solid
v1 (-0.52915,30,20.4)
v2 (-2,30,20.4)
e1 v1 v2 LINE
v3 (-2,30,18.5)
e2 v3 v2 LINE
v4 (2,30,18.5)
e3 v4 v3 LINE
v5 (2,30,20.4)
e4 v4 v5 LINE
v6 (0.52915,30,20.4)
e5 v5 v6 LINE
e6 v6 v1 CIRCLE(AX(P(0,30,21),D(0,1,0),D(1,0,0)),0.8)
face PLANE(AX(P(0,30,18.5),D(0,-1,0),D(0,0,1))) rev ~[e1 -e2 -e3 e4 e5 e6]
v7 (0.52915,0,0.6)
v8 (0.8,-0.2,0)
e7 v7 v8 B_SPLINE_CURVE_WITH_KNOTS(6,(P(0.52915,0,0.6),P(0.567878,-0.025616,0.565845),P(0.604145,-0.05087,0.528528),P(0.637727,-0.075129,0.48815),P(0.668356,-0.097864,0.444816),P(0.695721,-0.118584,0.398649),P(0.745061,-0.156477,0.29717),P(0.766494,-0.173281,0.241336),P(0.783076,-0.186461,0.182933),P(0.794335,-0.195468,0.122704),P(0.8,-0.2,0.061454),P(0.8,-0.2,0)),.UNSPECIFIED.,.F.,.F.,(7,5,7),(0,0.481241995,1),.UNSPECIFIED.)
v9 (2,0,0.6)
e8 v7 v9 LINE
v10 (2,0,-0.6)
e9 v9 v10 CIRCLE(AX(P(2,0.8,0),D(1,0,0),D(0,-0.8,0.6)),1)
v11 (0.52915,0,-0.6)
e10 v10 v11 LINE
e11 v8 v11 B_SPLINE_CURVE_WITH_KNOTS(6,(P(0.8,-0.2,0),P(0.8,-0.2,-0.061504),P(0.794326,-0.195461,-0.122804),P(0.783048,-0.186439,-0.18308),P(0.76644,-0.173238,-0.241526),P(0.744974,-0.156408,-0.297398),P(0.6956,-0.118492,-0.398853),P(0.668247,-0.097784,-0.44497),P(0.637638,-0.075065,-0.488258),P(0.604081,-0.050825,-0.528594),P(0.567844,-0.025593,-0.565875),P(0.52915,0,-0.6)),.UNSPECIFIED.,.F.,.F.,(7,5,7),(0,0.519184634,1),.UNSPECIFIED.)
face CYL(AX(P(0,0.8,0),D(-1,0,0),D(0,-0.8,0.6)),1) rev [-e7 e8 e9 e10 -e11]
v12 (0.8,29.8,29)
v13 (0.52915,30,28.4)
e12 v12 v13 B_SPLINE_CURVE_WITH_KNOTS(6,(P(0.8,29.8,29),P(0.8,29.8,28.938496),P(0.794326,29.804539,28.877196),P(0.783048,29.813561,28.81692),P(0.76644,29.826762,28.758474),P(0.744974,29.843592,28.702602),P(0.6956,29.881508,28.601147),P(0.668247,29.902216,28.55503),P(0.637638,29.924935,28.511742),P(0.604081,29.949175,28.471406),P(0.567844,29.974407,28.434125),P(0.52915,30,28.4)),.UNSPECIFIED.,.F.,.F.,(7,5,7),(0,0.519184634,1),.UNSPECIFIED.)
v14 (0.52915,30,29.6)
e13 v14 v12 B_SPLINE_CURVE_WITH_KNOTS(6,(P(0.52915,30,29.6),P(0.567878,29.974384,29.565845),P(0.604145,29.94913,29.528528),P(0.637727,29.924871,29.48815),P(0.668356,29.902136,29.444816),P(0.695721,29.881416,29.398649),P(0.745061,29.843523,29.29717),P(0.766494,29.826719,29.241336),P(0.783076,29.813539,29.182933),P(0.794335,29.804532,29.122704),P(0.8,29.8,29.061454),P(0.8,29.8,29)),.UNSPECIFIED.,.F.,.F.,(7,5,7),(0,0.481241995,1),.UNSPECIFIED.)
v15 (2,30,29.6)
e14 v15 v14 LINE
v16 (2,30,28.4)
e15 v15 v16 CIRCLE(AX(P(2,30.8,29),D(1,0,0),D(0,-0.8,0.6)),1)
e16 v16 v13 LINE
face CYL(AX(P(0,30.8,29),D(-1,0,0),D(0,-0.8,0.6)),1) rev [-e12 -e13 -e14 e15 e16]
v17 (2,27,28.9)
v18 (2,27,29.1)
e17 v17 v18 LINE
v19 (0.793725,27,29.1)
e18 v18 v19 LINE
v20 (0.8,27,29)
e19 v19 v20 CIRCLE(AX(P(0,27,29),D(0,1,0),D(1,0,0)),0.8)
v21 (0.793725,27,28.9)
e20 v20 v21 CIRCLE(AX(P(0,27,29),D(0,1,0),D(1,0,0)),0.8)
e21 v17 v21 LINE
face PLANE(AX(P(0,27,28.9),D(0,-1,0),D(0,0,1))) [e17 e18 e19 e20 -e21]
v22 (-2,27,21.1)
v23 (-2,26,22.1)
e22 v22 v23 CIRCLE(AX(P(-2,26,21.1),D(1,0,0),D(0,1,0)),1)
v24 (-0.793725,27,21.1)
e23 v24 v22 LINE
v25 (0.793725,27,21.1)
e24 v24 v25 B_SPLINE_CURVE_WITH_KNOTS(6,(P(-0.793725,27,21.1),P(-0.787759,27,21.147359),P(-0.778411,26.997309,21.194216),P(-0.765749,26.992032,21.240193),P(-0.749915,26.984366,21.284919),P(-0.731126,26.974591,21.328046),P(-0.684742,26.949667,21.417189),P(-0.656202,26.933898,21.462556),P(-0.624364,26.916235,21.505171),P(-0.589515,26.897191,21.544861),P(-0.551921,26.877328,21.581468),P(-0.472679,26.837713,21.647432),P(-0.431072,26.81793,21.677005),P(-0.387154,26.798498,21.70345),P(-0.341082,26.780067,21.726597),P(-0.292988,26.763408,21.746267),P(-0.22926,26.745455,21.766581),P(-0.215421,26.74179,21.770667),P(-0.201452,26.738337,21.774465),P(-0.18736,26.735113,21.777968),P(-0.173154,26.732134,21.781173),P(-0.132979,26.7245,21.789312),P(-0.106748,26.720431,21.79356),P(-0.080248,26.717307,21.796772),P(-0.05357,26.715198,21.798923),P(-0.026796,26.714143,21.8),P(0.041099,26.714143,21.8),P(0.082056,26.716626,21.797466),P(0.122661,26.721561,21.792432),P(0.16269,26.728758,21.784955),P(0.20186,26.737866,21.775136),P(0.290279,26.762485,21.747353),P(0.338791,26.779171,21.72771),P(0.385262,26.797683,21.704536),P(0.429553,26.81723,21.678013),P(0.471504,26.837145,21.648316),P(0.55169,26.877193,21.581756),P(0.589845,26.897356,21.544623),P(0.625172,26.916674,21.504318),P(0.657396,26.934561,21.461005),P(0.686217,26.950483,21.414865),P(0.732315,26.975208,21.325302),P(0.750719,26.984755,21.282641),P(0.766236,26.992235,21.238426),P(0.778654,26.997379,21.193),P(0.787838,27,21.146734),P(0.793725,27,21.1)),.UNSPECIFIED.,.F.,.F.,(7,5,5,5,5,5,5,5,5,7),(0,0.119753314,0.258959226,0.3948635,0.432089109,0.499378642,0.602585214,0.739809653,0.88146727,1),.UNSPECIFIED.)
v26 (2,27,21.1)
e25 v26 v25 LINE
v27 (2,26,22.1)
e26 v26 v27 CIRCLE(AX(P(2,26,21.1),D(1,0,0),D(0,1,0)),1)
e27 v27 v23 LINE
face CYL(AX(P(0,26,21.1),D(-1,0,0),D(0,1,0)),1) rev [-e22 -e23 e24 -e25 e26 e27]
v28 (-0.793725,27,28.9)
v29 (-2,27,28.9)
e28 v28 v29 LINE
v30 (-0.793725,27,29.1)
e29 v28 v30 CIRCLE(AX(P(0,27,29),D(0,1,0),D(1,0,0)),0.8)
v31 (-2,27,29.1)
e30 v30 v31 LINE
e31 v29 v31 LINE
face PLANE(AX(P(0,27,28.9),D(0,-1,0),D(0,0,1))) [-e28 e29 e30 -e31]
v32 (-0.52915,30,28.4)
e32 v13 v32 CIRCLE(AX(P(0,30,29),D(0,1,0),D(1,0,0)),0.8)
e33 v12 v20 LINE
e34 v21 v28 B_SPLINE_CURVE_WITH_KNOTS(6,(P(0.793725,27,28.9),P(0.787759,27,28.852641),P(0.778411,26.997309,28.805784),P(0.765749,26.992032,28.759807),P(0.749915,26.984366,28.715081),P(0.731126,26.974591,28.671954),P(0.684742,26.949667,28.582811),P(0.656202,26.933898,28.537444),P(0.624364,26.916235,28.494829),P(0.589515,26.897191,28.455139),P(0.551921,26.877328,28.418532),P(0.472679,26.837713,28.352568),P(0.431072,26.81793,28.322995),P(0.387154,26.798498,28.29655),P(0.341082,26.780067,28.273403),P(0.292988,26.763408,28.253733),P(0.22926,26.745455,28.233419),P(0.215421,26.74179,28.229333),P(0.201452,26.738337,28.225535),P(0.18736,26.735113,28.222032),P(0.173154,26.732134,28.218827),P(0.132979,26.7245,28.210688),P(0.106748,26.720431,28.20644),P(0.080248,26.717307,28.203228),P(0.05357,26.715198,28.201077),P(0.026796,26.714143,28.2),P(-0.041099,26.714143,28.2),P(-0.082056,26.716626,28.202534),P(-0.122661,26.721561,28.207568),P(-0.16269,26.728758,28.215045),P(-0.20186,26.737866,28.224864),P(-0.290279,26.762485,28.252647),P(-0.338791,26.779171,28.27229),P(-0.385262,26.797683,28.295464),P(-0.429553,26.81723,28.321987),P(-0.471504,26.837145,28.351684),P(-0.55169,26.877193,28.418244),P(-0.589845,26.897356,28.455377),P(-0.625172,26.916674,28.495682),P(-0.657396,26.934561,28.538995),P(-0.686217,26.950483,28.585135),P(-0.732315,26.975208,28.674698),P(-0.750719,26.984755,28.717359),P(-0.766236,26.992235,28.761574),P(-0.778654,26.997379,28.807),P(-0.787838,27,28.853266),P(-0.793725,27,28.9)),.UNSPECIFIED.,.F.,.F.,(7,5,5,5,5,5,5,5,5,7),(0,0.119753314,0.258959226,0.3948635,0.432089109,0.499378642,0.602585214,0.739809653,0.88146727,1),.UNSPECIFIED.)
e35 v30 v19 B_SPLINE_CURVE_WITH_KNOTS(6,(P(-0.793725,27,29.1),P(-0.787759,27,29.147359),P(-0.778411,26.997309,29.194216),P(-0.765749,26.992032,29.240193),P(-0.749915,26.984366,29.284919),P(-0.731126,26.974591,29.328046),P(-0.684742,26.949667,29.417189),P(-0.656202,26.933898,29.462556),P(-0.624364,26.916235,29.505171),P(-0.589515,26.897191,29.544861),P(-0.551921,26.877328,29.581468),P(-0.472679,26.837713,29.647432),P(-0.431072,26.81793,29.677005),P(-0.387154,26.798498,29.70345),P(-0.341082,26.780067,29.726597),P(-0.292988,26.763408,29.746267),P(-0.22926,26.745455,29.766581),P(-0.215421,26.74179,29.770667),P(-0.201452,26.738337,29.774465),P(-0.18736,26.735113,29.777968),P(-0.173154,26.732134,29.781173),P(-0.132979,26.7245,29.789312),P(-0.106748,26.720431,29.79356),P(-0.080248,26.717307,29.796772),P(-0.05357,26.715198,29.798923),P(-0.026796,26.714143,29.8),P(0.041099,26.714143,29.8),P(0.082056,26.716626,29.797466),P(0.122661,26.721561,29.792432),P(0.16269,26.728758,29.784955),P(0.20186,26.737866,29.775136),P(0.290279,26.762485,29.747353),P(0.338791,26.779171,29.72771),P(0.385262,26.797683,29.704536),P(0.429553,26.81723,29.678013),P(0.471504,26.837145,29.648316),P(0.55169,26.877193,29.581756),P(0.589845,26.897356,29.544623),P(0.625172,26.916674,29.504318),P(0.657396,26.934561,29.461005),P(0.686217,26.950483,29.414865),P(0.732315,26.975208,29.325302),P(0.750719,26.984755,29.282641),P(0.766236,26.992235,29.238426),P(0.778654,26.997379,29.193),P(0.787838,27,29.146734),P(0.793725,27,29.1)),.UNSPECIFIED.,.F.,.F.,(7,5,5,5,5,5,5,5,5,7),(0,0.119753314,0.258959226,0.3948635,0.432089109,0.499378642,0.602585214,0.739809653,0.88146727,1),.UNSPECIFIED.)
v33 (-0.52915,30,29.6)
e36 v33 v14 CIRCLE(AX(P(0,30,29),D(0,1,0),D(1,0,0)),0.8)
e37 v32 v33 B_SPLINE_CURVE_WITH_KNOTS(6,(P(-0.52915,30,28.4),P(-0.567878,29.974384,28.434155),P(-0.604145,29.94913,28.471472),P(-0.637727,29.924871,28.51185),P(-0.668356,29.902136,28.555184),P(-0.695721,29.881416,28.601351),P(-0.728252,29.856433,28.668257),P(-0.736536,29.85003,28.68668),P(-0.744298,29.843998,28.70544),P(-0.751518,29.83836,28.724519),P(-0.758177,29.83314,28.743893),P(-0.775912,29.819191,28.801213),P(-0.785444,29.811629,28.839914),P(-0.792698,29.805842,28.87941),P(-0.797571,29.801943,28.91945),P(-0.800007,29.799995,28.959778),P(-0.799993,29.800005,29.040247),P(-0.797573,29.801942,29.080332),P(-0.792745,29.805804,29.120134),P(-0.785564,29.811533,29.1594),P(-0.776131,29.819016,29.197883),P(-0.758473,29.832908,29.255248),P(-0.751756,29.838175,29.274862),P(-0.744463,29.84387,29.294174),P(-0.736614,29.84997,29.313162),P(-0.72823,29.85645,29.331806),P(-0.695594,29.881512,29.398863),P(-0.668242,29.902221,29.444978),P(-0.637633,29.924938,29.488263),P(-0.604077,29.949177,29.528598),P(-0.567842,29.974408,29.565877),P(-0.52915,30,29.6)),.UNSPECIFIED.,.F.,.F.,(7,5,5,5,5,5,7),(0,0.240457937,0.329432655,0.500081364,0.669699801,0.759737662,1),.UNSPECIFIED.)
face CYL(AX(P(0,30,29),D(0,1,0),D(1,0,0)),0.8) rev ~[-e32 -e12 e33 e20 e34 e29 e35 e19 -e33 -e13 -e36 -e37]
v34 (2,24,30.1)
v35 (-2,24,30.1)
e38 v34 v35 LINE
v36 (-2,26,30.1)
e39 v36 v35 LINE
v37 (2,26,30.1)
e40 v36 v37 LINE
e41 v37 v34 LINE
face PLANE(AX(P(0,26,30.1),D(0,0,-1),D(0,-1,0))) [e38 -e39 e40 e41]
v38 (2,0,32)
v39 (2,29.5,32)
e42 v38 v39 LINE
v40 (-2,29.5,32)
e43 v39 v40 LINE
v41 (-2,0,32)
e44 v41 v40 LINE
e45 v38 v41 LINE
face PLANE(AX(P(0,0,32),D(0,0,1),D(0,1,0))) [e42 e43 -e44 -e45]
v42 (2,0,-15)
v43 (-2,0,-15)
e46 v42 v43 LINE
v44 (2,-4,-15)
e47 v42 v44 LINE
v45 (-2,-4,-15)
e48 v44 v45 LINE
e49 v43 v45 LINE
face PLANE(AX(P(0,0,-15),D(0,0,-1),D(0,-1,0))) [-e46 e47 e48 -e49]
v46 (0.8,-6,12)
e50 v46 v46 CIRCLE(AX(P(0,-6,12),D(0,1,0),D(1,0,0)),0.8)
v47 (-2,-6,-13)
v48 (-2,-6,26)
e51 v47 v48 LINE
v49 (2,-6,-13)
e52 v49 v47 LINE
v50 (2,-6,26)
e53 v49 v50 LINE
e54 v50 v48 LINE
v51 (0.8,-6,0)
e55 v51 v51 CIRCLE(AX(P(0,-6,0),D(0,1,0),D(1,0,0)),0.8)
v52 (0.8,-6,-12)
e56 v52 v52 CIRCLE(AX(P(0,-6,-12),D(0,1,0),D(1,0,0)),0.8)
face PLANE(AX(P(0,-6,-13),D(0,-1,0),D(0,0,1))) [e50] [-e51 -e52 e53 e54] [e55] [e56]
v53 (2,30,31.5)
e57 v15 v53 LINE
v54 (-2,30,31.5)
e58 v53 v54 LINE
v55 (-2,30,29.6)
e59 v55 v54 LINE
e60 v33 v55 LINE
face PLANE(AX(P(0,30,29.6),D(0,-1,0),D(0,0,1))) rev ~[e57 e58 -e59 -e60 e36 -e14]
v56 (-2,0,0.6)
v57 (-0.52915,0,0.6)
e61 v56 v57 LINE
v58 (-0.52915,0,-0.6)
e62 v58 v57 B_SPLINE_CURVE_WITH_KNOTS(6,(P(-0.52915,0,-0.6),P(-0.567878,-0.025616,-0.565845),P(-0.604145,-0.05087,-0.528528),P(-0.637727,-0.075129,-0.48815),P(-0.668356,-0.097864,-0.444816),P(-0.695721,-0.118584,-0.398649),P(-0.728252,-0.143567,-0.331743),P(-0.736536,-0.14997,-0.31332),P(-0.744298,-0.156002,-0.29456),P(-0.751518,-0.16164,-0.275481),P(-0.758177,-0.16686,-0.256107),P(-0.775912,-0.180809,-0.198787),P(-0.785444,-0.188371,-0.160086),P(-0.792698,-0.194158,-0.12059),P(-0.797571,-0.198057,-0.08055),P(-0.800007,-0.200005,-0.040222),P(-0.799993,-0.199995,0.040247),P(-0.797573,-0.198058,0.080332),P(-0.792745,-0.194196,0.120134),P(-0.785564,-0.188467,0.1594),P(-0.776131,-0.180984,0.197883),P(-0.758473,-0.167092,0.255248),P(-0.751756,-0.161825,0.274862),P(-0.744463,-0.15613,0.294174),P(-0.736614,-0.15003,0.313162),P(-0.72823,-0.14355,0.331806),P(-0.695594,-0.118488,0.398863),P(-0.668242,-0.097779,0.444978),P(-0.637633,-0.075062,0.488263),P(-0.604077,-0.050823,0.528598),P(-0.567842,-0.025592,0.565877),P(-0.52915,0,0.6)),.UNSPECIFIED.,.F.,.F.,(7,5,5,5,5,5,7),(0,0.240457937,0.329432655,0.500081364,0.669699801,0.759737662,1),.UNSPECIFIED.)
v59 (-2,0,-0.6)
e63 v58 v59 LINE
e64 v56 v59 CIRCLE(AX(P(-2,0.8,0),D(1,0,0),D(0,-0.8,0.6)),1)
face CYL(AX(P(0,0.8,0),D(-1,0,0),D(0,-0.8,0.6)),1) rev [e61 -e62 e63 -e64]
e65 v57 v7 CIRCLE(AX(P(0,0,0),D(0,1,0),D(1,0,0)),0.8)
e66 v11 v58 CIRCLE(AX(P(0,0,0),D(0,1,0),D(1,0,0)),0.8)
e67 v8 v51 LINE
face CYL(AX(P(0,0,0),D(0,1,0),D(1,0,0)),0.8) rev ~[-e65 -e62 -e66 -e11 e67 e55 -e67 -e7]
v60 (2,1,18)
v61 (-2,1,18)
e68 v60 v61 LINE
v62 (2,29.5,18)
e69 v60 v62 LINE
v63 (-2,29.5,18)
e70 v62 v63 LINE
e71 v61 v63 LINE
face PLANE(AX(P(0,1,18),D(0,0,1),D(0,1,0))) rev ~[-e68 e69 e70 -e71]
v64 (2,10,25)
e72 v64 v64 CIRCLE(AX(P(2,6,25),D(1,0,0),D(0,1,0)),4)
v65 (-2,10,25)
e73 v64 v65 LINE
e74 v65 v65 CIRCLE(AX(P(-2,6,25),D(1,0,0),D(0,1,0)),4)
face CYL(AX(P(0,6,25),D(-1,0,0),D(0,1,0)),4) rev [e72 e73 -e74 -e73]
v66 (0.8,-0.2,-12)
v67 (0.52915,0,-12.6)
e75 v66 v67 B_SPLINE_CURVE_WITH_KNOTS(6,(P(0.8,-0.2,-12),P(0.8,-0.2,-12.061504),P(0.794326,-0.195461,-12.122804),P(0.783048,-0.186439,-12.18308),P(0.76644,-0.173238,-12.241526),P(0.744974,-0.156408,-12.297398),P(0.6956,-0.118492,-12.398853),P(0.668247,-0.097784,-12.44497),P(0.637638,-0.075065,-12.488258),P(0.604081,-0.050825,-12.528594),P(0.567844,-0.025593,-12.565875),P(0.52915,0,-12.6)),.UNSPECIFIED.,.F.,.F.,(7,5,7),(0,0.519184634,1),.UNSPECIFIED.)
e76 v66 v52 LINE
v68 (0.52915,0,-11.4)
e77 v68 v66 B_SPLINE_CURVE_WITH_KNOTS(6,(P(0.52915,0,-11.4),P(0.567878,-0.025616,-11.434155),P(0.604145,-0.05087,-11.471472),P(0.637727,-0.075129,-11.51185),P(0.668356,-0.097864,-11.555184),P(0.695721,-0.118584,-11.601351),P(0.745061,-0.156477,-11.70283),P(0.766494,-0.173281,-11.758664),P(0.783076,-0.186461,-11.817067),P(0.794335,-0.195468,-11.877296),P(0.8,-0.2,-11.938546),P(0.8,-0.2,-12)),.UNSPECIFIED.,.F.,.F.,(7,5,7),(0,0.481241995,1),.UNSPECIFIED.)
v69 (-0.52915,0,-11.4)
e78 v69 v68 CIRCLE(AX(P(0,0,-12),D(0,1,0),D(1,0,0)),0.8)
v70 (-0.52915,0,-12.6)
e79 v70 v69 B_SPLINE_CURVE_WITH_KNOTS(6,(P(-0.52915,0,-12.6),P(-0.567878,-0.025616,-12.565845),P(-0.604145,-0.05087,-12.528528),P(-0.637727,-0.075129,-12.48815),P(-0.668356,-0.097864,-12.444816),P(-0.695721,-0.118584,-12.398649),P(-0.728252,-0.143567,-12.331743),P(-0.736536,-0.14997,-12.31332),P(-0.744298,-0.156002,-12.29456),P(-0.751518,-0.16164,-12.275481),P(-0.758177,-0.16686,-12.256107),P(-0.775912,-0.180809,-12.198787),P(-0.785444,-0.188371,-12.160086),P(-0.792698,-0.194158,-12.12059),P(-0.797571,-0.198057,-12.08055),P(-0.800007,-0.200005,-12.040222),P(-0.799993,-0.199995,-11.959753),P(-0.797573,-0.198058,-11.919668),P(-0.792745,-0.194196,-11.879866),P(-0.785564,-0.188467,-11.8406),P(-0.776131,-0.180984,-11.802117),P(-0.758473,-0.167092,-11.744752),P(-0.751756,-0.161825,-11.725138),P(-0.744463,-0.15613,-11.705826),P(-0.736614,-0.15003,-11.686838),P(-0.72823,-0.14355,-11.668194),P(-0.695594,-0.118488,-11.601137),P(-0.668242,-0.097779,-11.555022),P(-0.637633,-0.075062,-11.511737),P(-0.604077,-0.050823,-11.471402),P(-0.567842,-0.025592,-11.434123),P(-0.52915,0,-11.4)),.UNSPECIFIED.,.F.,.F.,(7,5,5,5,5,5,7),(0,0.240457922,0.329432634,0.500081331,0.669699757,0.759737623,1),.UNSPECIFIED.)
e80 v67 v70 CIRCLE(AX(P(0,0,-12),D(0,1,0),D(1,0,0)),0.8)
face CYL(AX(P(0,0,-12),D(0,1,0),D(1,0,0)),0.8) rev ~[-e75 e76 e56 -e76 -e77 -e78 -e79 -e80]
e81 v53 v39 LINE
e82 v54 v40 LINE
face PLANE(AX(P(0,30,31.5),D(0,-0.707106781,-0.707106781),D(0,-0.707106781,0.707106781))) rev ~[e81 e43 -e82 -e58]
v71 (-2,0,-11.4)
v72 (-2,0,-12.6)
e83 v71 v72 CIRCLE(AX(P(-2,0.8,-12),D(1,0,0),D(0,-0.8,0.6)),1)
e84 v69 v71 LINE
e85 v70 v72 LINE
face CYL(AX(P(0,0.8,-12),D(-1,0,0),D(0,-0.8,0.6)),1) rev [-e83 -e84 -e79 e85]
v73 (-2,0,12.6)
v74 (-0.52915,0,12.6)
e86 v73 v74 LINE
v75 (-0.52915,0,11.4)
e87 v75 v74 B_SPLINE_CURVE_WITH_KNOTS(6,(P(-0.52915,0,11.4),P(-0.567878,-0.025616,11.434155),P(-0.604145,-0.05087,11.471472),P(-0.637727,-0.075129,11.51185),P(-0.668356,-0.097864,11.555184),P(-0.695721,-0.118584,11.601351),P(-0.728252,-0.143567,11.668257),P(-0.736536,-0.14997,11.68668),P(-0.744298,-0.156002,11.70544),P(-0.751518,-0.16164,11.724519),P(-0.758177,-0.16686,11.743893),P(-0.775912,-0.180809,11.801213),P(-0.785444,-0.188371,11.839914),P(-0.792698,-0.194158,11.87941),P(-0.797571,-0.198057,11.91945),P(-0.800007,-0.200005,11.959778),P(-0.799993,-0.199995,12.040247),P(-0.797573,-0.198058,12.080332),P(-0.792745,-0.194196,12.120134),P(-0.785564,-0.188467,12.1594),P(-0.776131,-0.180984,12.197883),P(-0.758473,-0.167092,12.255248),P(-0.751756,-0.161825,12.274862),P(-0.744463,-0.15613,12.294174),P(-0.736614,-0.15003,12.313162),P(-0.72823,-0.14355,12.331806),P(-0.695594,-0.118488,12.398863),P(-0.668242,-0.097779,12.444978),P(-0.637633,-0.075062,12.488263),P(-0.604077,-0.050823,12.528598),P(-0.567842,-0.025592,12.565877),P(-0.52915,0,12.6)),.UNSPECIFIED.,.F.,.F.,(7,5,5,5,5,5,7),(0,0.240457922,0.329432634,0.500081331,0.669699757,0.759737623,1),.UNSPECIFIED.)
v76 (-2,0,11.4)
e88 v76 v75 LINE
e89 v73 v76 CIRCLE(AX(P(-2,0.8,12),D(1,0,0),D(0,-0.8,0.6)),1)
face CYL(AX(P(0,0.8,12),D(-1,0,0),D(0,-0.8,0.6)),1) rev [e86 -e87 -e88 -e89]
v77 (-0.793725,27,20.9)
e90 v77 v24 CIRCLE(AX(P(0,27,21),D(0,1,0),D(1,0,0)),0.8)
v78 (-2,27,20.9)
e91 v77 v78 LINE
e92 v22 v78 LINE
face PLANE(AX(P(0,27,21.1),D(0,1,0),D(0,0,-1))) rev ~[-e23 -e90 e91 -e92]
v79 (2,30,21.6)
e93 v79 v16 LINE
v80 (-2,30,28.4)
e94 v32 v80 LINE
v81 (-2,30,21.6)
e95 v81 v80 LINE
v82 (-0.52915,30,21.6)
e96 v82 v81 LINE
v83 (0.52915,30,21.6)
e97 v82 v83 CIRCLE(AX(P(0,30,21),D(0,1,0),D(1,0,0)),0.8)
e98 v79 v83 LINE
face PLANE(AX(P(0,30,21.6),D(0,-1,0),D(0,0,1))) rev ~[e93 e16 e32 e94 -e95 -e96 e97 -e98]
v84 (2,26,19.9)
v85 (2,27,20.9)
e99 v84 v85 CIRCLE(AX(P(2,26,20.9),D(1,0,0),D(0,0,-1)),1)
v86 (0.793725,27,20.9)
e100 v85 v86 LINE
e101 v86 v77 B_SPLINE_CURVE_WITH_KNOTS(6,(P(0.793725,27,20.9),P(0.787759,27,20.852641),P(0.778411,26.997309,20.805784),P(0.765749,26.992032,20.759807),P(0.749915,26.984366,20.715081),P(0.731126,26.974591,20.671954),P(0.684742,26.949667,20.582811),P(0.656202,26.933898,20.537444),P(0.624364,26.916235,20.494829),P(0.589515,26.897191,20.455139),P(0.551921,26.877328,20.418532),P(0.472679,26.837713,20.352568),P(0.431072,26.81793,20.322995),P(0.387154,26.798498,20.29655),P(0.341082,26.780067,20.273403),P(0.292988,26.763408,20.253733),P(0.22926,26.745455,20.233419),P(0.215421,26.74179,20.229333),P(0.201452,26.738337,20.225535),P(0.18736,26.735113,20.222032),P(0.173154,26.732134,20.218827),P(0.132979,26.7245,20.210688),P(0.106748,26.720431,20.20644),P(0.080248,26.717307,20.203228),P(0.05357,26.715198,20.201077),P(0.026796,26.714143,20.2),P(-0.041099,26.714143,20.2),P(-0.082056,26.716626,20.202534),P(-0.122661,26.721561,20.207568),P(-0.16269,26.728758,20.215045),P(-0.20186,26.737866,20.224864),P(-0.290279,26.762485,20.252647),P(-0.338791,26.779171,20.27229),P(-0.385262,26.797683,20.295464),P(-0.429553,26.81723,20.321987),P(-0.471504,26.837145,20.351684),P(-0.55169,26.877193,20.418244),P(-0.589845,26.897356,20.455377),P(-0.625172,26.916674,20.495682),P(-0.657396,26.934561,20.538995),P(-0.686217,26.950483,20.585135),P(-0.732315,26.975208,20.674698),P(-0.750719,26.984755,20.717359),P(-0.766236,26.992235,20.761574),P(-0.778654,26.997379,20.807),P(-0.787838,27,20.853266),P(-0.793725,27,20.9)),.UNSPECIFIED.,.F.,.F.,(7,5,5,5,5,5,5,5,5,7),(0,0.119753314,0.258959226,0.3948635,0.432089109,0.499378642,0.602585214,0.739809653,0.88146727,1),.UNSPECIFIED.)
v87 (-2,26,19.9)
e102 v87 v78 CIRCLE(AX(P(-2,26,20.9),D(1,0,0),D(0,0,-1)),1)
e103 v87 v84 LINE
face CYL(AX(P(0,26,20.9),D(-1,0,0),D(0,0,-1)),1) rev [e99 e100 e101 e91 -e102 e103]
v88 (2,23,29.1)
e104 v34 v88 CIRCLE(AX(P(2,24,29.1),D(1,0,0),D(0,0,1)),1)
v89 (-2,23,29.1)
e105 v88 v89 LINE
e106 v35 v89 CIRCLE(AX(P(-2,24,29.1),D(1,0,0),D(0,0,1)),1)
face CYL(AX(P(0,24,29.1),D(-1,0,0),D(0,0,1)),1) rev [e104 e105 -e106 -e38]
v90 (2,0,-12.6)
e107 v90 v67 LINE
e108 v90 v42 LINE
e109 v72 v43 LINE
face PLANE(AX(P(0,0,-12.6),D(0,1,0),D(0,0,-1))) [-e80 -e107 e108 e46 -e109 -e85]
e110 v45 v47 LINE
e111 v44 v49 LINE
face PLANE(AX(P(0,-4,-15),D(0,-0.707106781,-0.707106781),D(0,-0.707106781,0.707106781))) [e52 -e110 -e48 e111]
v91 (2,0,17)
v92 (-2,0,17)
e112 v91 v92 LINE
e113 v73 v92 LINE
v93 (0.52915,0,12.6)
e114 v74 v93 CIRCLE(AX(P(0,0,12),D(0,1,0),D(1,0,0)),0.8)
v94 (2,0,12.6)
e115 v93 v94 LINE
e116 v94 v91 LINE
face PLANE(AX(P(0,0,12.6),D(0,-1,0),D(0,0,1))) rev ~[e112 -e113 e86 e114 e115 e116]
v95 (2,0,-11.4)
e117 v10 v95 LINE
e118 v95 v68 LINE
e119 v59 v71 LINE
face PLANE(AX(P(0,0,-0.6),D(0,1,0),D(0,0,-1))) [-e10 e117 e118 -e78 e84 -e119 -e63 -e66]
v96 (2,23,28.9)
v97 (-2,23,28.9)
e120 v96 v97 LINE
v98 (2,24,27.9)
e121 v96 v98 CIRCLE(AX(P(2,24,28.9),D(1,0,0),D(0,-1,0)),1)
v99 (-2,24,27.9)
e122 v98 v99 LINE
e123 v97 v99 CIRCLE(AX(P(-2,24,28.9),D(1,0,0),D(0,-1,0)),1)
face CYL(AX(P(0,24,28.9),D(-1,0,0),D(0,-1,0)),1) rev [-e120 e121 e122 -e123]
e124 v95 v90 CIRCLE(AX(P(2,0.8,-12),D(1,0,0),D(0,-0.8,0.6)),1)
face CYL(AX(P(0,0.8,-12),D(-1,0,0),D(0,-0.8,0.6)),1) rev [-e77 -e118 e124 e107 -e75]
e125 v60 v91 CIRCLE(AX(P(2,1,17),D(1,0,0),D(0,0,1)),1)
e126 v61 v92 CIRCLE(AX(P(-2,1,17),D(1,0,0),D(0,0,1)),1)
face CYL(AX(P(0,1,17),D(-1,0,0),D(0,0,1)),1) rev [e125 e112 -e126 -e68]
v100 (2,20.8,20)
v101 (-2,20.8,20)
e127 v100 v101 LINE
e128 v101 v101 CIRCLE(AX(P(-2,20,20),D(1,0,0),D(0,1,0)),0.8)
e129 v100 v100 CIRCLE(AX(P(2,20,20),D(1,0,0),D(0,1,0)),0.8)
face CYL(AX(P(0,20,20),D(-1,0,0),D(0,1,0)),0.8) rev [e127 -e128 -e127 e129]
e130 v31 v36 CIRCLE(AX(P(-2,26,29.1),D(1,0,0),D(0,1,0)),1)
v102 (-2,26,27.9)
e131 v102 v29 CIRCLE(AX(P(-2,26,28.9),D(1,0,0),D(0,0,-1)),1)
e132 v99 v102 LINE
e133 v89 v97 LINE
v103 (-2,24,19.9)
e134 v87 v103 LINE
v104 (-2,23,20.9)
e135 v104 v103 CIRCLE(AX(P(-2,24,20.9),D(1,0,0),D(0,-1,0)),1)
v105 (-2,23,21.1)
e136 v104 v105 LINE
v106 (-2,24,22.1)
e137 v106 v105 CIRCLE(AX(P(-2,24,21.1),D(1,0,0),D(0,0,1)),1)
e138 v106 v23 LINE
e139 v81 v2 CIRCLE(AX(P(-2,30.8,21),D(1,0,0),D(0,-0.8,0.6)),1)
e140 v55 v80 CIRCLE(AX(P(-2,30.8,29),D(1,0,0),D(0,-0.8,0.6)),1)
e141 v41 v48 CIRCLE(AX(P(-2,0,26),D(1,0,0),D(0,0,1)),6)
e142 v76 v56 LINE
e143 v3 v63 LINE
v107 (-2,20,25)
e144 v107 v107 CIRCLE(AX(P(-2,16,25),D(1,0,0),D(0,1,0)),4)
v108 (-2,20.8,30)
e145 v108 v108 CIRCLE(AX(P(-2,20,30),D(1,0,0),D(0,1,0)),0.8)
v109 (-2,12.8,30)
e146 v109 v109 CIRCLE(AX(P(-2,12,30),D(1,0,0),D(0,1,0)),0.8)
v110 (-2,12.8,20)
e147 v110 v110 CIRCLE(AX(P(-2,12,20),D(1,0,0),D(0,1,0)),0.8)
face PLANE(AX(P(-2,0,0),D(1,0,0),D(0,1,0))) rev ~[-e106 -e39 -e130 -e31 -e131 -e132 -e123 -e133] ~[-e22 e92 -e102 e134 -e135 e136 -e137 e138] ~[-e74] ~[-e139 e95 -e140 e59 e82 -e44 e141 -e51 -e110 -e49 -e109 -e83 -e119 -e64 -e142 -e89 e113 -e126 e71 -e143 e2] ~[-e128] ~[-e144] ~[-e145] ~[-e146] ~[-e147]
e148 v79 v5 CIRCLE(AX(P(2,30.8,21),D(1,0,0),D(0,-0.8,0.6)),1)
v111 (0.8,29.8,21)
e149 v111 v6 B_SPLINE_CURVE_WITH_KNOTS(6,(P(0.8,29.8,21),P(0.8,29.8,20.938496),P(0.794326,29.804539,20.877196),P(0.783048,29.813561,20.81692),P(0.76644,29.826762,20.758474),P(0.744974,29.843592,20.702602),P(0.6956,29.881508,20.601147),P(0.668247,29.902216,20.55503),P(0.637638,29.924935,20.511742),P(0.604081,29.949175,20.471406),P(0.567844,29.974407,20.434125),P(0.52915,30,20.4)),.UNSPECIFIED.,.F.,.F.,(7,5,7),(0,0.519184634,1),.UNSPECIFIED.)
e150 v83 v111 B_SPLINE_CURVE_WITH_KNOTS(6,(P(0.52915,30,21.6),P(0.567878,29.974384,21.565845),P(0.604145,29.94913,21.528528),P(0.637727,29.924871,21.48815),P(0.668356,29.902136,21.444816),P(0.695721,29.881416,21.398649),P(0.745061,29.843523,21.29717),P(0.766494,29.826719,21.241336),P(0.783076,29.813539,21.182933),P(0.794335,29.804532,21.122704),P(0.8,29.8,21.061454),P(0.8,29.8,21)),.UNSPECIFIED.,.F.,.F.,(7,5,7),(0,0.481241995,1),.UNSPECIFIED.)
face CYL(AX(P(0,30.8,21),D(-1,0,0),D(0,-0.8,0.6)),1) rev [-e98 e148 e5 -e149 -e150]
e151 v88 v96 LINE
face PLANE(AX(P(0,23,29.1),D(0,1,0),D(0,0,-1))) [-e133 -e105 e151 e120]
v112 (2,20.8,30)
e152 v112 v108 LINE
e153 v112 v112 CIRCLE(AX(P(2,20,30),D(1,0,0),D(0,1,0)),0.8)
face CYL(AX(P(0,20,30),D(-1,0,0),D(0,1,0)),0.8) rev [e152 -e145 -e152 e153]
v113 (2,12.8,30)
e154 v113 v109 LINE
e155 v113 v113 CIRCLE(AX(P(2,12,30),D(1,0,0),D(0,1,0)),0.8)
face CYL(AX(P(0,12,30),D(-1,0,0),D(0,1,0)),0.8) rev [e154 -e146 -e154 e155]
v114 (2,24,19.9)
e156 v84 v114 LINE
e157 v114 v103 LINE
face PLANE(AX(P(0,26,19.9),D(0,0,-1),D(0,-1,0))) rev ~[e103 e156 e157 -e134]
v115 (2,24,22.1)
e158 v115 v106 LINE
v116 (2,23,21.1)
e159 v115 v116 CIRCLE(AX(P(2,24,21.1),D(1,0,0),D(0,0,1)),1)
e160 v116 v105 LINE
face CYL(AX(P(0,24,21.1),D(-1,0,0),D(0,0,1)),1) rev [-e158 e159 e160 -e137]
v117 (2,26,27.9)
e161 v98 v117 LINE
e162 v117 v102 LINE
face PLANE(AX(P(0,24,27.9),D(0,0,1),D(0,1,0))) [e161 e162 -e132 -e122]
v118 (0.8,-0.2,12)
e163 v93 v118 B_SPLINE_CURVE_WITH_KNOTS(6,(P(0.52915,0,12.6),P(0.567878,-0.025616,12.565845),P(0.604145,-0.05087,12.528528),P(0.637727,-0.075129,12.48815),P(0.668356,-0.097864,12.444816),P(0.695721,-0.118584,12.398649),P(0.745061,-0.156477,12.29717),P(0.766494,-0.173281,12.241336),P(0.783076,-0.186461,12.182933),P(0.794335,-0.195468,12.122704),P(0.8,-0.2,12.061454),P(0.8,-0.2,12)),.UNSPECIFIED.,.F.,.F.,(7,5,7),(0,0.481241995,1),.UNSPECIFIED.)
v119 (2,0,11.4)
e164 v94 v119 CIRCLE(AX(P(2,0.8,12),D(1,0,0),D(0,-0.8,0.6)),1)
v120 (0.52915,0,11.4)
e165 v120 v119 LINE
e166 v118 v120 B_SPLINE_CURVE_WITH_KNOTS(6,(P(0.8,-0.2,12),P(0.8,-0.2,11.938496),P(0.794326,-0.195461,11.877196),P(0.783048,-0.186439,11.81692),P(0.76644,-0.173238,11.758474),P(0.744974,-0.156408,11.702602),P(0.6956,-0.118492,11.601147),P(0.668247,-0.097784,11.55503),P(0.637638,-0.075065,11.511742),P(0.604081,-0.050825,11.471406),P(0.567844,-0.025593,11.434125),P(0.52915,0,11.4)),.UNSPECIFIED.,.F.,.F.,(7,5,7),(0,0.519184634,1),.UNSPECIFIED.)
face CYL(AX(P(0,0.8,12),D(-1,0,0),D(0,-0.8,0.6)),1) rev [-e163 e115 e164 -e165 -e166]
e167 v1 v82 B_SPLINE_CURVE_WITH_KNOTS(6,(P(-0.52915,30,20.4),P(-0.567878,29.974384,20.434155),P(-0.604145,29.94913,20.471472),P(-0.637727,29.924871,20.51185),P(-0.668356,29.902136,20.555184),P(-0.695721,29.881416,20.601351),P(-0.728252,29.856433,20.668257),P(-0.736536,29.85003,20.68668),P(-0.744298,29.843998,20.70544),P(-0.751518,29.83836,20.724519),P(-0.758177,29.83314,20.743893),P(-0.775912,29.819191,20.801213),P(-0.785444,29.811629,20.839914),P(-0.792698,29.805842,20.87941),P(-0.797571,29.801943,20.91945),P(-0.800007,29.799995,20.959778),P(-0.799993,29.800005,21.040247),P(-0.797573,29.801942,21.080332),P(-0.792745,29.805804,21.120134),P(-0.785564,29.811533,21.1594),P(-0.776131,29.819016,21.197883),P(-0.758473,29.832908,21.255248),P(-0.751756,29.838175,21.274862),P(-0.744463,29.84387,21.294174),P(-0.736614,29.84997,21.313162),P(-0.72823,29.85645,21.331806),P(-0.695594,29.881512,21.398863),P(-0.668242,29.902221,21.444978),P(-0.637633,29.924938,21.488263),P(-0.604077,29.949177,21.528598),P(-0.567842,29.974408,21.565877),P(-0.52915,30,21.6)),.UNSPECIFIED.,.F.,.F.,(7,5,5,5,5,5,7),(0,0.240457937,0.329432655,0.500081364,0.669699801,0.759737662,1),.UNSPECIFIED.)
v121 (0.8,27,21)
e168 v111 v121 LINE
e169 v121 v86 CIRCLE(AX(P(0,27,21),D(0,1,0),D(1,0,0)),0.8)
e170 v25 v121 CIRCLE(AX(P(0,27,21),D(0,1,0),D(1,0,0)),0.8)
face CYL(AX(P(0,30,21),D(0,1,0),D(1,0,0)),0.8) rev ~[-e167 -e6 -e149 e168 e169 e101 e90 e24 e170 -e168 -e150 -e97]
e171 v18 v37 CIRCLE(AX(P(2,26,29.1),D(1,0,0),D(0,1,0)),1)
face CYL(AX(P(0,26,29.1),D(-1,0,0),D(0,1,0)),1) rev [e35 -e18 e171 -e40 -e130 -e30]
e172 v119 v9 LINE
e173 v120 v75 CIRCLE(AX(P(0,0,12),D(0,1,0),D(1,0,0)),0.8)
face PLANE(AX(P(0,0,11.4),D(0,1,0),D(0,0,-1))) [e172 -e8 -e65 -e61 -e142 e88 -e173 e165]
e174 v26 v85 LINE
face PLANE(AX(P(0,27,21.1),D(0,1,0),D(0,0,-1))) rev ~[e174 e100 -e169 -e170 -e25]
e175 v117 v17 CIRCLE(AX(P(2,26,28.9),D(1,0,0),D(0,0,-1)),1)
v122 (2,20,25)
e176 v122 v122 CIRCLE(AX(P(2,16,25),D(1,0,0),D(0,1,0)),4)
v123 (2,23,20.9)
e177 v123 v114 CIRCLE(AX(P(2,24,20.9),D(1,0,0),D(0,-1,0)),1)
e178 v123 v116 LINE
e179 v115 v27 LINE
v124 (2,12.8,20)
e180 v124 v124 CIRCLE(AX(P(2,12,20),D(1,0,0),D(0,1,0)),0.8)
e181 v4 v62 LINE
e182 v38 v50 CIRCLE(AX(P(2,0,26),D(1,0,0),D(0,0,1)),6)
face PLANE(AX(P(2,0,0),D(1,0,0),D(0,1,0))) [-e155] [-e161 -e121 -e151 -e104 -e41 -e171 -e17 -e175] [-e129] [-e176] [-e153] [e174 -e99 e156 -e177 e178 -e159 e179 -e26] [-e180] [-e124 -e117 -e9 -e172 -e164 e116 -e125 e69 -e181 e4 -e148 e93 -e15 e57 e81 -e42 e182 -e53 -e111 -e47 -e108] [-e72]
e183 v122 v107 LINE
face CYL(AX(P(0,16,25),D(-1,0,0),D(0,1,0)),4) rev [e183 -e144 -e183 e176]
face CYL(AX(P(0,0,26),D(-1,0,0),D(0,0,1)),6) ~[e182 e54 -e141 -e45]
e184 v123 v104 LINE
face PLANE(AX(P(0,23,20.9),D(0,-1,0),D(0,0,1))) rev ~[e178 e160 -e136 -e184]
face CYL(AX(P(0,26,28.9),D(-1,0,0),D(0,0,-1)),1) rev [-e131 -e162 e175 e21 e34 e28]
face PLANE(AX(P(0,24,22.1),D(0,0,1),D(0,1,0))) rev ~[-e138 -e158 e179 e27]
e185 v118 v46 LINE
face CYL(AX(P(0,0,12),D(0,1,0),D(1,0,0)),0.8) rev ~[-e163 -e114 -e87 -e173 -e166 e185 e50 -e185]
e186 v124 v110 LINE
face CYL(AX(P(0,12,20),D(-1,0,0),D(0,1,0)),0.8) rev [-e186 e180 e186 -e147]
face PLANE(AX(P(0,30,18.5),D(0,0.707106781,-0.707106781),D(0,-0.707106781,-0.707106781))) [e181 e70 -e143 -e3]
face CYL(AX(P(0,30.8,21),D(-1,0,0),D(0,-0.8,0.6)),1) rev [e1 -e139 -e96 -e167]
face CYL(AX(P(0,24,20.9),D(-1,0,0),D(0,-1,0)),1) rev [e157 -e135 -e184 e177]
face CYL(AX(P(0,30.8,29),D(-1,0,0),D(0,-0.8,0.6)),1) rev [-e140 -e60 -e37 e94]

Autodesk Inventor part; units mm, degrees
ref_plane "YZ Plane" through (0, 0, 0) normal (1, 0, 0) x (0, 1, 0)
ref_plane "XZ Plane" through (0, 0, 0) normal (0, 1, 0) x (-1, 0, 0)
ref_plane "XY Plane" through (0, 0, 0) normal (0, 0, 1) x (1, 0, 0)
sketch "スケッチ1" plane through (0, 0, 0) normal (1, 0, 0) x (0, 1, 0)
  line L0 (0, 12) -> (0, -12) construction
  arc A0 (0, 0.6) -> (0, -0.6) centre (0.8, 0) ccw
  arc A1 (0, -11.4) -> (0, -12.6) centre (0.8, -12) ccw
  arc A2 (0, 12.6) -> (0, 11.4) centre (0.8, 12) ccw
  line L1 (0, 11.4) -> (0, 0.6)
  line L2 (0, -0.6) -> (0, -11.4)
  line L3 (0, -12.6) -> (0, -15)
  line L4 (0, -15) -> (-4, -15)
  line L5 (-4, -15) -> (-6, -13)
  line L6 (-6, -13) -> (-6, 26)
  line L7 (0, 32) -> (29.5, 32)
  line L8 (0, 12.6) -> (0, 17)
  line L9 (1, 18) -> (29.5, 18)
  arc A3 (1, 18) -> (0, 17) centre (1, 17) ccw
  line L10 (0.8, 12) -> (0.8, -12) construction
  arc A4 (0, 32) -> (-6, 26) centre (0, 26) ccw
  line L11 (30, 18.5) -> (30, 20.4)
  line L12 (30, 31.5) -> (29.5, 32)
  line L13 (30, 18.5) -> (29.5, 18)
  arc A5 (30, 29.6) -> (30, 28.4) centre (30.8, 29) ccw
  arc A6 (30, 21.6) -> (30, 20.4) centre (30.8, 21) ccw
  line L14 (30.8, 29) -> (30.8, 21) construction
  line L15 (30, 29.6) -> (30, 31.5)
  line L16 (30, 28.4) -> (30, 29.6) construction
  line L17 (30, 21.6) -> (30, 28.4)
  line L18 (30, 20.4) -> (30, 21.6) construction
  line L19 (30.8, 25) -> (24.681, 25) construction
  line L20 (26, 30.1) -> (24, 30.1)
  line L21 (23, 29.1) -> (23, 28.9)
  line L22 (24, 27.9) -> (26, 27.9)
  line L23 (27, 28.9) -> (27, 29.1)
  arc A7 (27, 29.1) -> (26, 30.1) centre (26, 29.1) ccw
  arc A8 (26, 27.9) -> (27, 28.9) centre (26, 28.9) ccw
  arc A9 (23, 28.9) -> (24, 27.9) centre (24, 28.9) ccw
  arc A10 (24, 30.1) -> (23, 29.1) centre (24, 29.1) ccw
  line L24 (27, 29) -> (30.8, 29) construction
  line L25 (26, 19.9) -> (24, 19.9)
  line L26 (23, 20.9) -> (23, 21.1)
  line L27 (24, 22.1) -> (26, 22.1)
  line L28 (27, 21.1) -> (27, 20.9)
  arc A11 (26, 19.9) -> (27, 20.9) centre (26, 20.9) ccw
  arc A12 (27, 21.1) -> (26, 22.1) centre (26, 21.1) ccw
  arc A13 (24, 22.1) -> (23, 21.1) centre (24, 21.1) ccw
  arc A14 (23, 20.9) -> (24, 19.9) centre (24, 20.9) ccw
  line L29 (20, 30) -> (12, 30) construction
  line L30 (12, 30) -> (12, 20) construction
  line L31 (12, 20) -> (20, 20) construction
  line L32 (20, 20) -> (20, 30) construction
  circle A15 centre (20, 30) radius 0.8
  circle A16 centre (20, 20) radius 0.8
  circle A17 centre (12, 20) radius 0.8
  circle A18 centre (12, 30) radius 0.8
  line L33 (20, 30) -> (12, 20) construction
  circle A19 centre (16, 25) radius 4
  line L34 (16, 25) -> (6, 25) construction
  circle A20 centre (6, 25) radius 4
  point P0 (0, 0)
  point P1 (0, 0)
  point P2 (30, 32)
  point P3 (30, 18)
  point P4 (27, 21)
  dimension "d0" = 24
  dimension "d1" = 1
  dimension "d2" = 0.8
  dimension "d3" = 1
  dimension "d4" = 6
  dimension "d5" = 2
  dimension "d6" = 3
  dimension "d7" = 2
  dimension "d8" = 6
  dimension "d11" = 6
  dimension "d31" = 0.5
  dimension "d32" = 0.5
  dimension "d33" = 0.5
  dimension "d34" = 0.5
  dimension "d35" = 30
  dimension "d36" = 14
  dimension "d37" = 1
  dimension "d38" = 0.8
  dimension "d39" = 8
  dimension "d40" = 1
  dimension "d41" = 3
  dimension "d42" = 4
  dimension "d43" = 2.2
  dimension "d44" = 1.6
  dimension "d45" = 10
  dimension "d46" = 8
  dimension "d47" = 10
  dimension "d48" = 10
extrude "押し出し1" add sketch "スケッチ1" along normal mid plane 4
sketch "スケッチ2" plane through (-2, 0, 11.4) normal (0, 1, 0) x (1, 0, 0)
  circle A0 centre (2, 11.4) radius 0.8
  line L0 (4, -1.2) -> (0, -1.2) construction
  line L1 (4, 0) -> (0, 0) construction
  line L2 (0, -1.2) -> (4, 0) construction
  circle A1 centre (2, -0.6) radius 0.8
  line L3 (4, 22.8) -> (0, 22.8) construction
  line L4 (4, 24) -> (0, 24) construction
  line L5 (0, 22.8) -> (4, 24) construction
  circle A2 centre (2, 23.4) radius 0.8
  dimension "d14" = 1.6
extrude "押し出し2" cut sketch "スケッチ2" against normal blind 6
sketch "スケッチ4" plane through (-2, 30, 28.4) normal (0, 1, 0) x (1, 0, 0)
  line L0 (4, -1.2) -> (0, -1.2) construction
  line L1 (4, 0) -> (0, 0) construction
  line L2 (0, -1.2) -> (4, 0) construction
  line L3 (4, 6.8) -> (0, 6.8) construction
  line L4 (4, 8) -> (0, 8) construction
  line L5 (0, 6.8) -> (4, 8) construction
  circle A0 centre (2, -0.6) radius 0.8
  circle A1 centre (2, 7.4) radius 0.8
  point P0 (2, 28.4)
  dimension "d49" = 1.6
extrude "押し出し4" cut sketch "スケッチ4" against normal blind 5
equation "\"d32\" = d31"
equation "\"d33\" = d31"
equation "\"d34\" = d33"
properties part number "handle"
